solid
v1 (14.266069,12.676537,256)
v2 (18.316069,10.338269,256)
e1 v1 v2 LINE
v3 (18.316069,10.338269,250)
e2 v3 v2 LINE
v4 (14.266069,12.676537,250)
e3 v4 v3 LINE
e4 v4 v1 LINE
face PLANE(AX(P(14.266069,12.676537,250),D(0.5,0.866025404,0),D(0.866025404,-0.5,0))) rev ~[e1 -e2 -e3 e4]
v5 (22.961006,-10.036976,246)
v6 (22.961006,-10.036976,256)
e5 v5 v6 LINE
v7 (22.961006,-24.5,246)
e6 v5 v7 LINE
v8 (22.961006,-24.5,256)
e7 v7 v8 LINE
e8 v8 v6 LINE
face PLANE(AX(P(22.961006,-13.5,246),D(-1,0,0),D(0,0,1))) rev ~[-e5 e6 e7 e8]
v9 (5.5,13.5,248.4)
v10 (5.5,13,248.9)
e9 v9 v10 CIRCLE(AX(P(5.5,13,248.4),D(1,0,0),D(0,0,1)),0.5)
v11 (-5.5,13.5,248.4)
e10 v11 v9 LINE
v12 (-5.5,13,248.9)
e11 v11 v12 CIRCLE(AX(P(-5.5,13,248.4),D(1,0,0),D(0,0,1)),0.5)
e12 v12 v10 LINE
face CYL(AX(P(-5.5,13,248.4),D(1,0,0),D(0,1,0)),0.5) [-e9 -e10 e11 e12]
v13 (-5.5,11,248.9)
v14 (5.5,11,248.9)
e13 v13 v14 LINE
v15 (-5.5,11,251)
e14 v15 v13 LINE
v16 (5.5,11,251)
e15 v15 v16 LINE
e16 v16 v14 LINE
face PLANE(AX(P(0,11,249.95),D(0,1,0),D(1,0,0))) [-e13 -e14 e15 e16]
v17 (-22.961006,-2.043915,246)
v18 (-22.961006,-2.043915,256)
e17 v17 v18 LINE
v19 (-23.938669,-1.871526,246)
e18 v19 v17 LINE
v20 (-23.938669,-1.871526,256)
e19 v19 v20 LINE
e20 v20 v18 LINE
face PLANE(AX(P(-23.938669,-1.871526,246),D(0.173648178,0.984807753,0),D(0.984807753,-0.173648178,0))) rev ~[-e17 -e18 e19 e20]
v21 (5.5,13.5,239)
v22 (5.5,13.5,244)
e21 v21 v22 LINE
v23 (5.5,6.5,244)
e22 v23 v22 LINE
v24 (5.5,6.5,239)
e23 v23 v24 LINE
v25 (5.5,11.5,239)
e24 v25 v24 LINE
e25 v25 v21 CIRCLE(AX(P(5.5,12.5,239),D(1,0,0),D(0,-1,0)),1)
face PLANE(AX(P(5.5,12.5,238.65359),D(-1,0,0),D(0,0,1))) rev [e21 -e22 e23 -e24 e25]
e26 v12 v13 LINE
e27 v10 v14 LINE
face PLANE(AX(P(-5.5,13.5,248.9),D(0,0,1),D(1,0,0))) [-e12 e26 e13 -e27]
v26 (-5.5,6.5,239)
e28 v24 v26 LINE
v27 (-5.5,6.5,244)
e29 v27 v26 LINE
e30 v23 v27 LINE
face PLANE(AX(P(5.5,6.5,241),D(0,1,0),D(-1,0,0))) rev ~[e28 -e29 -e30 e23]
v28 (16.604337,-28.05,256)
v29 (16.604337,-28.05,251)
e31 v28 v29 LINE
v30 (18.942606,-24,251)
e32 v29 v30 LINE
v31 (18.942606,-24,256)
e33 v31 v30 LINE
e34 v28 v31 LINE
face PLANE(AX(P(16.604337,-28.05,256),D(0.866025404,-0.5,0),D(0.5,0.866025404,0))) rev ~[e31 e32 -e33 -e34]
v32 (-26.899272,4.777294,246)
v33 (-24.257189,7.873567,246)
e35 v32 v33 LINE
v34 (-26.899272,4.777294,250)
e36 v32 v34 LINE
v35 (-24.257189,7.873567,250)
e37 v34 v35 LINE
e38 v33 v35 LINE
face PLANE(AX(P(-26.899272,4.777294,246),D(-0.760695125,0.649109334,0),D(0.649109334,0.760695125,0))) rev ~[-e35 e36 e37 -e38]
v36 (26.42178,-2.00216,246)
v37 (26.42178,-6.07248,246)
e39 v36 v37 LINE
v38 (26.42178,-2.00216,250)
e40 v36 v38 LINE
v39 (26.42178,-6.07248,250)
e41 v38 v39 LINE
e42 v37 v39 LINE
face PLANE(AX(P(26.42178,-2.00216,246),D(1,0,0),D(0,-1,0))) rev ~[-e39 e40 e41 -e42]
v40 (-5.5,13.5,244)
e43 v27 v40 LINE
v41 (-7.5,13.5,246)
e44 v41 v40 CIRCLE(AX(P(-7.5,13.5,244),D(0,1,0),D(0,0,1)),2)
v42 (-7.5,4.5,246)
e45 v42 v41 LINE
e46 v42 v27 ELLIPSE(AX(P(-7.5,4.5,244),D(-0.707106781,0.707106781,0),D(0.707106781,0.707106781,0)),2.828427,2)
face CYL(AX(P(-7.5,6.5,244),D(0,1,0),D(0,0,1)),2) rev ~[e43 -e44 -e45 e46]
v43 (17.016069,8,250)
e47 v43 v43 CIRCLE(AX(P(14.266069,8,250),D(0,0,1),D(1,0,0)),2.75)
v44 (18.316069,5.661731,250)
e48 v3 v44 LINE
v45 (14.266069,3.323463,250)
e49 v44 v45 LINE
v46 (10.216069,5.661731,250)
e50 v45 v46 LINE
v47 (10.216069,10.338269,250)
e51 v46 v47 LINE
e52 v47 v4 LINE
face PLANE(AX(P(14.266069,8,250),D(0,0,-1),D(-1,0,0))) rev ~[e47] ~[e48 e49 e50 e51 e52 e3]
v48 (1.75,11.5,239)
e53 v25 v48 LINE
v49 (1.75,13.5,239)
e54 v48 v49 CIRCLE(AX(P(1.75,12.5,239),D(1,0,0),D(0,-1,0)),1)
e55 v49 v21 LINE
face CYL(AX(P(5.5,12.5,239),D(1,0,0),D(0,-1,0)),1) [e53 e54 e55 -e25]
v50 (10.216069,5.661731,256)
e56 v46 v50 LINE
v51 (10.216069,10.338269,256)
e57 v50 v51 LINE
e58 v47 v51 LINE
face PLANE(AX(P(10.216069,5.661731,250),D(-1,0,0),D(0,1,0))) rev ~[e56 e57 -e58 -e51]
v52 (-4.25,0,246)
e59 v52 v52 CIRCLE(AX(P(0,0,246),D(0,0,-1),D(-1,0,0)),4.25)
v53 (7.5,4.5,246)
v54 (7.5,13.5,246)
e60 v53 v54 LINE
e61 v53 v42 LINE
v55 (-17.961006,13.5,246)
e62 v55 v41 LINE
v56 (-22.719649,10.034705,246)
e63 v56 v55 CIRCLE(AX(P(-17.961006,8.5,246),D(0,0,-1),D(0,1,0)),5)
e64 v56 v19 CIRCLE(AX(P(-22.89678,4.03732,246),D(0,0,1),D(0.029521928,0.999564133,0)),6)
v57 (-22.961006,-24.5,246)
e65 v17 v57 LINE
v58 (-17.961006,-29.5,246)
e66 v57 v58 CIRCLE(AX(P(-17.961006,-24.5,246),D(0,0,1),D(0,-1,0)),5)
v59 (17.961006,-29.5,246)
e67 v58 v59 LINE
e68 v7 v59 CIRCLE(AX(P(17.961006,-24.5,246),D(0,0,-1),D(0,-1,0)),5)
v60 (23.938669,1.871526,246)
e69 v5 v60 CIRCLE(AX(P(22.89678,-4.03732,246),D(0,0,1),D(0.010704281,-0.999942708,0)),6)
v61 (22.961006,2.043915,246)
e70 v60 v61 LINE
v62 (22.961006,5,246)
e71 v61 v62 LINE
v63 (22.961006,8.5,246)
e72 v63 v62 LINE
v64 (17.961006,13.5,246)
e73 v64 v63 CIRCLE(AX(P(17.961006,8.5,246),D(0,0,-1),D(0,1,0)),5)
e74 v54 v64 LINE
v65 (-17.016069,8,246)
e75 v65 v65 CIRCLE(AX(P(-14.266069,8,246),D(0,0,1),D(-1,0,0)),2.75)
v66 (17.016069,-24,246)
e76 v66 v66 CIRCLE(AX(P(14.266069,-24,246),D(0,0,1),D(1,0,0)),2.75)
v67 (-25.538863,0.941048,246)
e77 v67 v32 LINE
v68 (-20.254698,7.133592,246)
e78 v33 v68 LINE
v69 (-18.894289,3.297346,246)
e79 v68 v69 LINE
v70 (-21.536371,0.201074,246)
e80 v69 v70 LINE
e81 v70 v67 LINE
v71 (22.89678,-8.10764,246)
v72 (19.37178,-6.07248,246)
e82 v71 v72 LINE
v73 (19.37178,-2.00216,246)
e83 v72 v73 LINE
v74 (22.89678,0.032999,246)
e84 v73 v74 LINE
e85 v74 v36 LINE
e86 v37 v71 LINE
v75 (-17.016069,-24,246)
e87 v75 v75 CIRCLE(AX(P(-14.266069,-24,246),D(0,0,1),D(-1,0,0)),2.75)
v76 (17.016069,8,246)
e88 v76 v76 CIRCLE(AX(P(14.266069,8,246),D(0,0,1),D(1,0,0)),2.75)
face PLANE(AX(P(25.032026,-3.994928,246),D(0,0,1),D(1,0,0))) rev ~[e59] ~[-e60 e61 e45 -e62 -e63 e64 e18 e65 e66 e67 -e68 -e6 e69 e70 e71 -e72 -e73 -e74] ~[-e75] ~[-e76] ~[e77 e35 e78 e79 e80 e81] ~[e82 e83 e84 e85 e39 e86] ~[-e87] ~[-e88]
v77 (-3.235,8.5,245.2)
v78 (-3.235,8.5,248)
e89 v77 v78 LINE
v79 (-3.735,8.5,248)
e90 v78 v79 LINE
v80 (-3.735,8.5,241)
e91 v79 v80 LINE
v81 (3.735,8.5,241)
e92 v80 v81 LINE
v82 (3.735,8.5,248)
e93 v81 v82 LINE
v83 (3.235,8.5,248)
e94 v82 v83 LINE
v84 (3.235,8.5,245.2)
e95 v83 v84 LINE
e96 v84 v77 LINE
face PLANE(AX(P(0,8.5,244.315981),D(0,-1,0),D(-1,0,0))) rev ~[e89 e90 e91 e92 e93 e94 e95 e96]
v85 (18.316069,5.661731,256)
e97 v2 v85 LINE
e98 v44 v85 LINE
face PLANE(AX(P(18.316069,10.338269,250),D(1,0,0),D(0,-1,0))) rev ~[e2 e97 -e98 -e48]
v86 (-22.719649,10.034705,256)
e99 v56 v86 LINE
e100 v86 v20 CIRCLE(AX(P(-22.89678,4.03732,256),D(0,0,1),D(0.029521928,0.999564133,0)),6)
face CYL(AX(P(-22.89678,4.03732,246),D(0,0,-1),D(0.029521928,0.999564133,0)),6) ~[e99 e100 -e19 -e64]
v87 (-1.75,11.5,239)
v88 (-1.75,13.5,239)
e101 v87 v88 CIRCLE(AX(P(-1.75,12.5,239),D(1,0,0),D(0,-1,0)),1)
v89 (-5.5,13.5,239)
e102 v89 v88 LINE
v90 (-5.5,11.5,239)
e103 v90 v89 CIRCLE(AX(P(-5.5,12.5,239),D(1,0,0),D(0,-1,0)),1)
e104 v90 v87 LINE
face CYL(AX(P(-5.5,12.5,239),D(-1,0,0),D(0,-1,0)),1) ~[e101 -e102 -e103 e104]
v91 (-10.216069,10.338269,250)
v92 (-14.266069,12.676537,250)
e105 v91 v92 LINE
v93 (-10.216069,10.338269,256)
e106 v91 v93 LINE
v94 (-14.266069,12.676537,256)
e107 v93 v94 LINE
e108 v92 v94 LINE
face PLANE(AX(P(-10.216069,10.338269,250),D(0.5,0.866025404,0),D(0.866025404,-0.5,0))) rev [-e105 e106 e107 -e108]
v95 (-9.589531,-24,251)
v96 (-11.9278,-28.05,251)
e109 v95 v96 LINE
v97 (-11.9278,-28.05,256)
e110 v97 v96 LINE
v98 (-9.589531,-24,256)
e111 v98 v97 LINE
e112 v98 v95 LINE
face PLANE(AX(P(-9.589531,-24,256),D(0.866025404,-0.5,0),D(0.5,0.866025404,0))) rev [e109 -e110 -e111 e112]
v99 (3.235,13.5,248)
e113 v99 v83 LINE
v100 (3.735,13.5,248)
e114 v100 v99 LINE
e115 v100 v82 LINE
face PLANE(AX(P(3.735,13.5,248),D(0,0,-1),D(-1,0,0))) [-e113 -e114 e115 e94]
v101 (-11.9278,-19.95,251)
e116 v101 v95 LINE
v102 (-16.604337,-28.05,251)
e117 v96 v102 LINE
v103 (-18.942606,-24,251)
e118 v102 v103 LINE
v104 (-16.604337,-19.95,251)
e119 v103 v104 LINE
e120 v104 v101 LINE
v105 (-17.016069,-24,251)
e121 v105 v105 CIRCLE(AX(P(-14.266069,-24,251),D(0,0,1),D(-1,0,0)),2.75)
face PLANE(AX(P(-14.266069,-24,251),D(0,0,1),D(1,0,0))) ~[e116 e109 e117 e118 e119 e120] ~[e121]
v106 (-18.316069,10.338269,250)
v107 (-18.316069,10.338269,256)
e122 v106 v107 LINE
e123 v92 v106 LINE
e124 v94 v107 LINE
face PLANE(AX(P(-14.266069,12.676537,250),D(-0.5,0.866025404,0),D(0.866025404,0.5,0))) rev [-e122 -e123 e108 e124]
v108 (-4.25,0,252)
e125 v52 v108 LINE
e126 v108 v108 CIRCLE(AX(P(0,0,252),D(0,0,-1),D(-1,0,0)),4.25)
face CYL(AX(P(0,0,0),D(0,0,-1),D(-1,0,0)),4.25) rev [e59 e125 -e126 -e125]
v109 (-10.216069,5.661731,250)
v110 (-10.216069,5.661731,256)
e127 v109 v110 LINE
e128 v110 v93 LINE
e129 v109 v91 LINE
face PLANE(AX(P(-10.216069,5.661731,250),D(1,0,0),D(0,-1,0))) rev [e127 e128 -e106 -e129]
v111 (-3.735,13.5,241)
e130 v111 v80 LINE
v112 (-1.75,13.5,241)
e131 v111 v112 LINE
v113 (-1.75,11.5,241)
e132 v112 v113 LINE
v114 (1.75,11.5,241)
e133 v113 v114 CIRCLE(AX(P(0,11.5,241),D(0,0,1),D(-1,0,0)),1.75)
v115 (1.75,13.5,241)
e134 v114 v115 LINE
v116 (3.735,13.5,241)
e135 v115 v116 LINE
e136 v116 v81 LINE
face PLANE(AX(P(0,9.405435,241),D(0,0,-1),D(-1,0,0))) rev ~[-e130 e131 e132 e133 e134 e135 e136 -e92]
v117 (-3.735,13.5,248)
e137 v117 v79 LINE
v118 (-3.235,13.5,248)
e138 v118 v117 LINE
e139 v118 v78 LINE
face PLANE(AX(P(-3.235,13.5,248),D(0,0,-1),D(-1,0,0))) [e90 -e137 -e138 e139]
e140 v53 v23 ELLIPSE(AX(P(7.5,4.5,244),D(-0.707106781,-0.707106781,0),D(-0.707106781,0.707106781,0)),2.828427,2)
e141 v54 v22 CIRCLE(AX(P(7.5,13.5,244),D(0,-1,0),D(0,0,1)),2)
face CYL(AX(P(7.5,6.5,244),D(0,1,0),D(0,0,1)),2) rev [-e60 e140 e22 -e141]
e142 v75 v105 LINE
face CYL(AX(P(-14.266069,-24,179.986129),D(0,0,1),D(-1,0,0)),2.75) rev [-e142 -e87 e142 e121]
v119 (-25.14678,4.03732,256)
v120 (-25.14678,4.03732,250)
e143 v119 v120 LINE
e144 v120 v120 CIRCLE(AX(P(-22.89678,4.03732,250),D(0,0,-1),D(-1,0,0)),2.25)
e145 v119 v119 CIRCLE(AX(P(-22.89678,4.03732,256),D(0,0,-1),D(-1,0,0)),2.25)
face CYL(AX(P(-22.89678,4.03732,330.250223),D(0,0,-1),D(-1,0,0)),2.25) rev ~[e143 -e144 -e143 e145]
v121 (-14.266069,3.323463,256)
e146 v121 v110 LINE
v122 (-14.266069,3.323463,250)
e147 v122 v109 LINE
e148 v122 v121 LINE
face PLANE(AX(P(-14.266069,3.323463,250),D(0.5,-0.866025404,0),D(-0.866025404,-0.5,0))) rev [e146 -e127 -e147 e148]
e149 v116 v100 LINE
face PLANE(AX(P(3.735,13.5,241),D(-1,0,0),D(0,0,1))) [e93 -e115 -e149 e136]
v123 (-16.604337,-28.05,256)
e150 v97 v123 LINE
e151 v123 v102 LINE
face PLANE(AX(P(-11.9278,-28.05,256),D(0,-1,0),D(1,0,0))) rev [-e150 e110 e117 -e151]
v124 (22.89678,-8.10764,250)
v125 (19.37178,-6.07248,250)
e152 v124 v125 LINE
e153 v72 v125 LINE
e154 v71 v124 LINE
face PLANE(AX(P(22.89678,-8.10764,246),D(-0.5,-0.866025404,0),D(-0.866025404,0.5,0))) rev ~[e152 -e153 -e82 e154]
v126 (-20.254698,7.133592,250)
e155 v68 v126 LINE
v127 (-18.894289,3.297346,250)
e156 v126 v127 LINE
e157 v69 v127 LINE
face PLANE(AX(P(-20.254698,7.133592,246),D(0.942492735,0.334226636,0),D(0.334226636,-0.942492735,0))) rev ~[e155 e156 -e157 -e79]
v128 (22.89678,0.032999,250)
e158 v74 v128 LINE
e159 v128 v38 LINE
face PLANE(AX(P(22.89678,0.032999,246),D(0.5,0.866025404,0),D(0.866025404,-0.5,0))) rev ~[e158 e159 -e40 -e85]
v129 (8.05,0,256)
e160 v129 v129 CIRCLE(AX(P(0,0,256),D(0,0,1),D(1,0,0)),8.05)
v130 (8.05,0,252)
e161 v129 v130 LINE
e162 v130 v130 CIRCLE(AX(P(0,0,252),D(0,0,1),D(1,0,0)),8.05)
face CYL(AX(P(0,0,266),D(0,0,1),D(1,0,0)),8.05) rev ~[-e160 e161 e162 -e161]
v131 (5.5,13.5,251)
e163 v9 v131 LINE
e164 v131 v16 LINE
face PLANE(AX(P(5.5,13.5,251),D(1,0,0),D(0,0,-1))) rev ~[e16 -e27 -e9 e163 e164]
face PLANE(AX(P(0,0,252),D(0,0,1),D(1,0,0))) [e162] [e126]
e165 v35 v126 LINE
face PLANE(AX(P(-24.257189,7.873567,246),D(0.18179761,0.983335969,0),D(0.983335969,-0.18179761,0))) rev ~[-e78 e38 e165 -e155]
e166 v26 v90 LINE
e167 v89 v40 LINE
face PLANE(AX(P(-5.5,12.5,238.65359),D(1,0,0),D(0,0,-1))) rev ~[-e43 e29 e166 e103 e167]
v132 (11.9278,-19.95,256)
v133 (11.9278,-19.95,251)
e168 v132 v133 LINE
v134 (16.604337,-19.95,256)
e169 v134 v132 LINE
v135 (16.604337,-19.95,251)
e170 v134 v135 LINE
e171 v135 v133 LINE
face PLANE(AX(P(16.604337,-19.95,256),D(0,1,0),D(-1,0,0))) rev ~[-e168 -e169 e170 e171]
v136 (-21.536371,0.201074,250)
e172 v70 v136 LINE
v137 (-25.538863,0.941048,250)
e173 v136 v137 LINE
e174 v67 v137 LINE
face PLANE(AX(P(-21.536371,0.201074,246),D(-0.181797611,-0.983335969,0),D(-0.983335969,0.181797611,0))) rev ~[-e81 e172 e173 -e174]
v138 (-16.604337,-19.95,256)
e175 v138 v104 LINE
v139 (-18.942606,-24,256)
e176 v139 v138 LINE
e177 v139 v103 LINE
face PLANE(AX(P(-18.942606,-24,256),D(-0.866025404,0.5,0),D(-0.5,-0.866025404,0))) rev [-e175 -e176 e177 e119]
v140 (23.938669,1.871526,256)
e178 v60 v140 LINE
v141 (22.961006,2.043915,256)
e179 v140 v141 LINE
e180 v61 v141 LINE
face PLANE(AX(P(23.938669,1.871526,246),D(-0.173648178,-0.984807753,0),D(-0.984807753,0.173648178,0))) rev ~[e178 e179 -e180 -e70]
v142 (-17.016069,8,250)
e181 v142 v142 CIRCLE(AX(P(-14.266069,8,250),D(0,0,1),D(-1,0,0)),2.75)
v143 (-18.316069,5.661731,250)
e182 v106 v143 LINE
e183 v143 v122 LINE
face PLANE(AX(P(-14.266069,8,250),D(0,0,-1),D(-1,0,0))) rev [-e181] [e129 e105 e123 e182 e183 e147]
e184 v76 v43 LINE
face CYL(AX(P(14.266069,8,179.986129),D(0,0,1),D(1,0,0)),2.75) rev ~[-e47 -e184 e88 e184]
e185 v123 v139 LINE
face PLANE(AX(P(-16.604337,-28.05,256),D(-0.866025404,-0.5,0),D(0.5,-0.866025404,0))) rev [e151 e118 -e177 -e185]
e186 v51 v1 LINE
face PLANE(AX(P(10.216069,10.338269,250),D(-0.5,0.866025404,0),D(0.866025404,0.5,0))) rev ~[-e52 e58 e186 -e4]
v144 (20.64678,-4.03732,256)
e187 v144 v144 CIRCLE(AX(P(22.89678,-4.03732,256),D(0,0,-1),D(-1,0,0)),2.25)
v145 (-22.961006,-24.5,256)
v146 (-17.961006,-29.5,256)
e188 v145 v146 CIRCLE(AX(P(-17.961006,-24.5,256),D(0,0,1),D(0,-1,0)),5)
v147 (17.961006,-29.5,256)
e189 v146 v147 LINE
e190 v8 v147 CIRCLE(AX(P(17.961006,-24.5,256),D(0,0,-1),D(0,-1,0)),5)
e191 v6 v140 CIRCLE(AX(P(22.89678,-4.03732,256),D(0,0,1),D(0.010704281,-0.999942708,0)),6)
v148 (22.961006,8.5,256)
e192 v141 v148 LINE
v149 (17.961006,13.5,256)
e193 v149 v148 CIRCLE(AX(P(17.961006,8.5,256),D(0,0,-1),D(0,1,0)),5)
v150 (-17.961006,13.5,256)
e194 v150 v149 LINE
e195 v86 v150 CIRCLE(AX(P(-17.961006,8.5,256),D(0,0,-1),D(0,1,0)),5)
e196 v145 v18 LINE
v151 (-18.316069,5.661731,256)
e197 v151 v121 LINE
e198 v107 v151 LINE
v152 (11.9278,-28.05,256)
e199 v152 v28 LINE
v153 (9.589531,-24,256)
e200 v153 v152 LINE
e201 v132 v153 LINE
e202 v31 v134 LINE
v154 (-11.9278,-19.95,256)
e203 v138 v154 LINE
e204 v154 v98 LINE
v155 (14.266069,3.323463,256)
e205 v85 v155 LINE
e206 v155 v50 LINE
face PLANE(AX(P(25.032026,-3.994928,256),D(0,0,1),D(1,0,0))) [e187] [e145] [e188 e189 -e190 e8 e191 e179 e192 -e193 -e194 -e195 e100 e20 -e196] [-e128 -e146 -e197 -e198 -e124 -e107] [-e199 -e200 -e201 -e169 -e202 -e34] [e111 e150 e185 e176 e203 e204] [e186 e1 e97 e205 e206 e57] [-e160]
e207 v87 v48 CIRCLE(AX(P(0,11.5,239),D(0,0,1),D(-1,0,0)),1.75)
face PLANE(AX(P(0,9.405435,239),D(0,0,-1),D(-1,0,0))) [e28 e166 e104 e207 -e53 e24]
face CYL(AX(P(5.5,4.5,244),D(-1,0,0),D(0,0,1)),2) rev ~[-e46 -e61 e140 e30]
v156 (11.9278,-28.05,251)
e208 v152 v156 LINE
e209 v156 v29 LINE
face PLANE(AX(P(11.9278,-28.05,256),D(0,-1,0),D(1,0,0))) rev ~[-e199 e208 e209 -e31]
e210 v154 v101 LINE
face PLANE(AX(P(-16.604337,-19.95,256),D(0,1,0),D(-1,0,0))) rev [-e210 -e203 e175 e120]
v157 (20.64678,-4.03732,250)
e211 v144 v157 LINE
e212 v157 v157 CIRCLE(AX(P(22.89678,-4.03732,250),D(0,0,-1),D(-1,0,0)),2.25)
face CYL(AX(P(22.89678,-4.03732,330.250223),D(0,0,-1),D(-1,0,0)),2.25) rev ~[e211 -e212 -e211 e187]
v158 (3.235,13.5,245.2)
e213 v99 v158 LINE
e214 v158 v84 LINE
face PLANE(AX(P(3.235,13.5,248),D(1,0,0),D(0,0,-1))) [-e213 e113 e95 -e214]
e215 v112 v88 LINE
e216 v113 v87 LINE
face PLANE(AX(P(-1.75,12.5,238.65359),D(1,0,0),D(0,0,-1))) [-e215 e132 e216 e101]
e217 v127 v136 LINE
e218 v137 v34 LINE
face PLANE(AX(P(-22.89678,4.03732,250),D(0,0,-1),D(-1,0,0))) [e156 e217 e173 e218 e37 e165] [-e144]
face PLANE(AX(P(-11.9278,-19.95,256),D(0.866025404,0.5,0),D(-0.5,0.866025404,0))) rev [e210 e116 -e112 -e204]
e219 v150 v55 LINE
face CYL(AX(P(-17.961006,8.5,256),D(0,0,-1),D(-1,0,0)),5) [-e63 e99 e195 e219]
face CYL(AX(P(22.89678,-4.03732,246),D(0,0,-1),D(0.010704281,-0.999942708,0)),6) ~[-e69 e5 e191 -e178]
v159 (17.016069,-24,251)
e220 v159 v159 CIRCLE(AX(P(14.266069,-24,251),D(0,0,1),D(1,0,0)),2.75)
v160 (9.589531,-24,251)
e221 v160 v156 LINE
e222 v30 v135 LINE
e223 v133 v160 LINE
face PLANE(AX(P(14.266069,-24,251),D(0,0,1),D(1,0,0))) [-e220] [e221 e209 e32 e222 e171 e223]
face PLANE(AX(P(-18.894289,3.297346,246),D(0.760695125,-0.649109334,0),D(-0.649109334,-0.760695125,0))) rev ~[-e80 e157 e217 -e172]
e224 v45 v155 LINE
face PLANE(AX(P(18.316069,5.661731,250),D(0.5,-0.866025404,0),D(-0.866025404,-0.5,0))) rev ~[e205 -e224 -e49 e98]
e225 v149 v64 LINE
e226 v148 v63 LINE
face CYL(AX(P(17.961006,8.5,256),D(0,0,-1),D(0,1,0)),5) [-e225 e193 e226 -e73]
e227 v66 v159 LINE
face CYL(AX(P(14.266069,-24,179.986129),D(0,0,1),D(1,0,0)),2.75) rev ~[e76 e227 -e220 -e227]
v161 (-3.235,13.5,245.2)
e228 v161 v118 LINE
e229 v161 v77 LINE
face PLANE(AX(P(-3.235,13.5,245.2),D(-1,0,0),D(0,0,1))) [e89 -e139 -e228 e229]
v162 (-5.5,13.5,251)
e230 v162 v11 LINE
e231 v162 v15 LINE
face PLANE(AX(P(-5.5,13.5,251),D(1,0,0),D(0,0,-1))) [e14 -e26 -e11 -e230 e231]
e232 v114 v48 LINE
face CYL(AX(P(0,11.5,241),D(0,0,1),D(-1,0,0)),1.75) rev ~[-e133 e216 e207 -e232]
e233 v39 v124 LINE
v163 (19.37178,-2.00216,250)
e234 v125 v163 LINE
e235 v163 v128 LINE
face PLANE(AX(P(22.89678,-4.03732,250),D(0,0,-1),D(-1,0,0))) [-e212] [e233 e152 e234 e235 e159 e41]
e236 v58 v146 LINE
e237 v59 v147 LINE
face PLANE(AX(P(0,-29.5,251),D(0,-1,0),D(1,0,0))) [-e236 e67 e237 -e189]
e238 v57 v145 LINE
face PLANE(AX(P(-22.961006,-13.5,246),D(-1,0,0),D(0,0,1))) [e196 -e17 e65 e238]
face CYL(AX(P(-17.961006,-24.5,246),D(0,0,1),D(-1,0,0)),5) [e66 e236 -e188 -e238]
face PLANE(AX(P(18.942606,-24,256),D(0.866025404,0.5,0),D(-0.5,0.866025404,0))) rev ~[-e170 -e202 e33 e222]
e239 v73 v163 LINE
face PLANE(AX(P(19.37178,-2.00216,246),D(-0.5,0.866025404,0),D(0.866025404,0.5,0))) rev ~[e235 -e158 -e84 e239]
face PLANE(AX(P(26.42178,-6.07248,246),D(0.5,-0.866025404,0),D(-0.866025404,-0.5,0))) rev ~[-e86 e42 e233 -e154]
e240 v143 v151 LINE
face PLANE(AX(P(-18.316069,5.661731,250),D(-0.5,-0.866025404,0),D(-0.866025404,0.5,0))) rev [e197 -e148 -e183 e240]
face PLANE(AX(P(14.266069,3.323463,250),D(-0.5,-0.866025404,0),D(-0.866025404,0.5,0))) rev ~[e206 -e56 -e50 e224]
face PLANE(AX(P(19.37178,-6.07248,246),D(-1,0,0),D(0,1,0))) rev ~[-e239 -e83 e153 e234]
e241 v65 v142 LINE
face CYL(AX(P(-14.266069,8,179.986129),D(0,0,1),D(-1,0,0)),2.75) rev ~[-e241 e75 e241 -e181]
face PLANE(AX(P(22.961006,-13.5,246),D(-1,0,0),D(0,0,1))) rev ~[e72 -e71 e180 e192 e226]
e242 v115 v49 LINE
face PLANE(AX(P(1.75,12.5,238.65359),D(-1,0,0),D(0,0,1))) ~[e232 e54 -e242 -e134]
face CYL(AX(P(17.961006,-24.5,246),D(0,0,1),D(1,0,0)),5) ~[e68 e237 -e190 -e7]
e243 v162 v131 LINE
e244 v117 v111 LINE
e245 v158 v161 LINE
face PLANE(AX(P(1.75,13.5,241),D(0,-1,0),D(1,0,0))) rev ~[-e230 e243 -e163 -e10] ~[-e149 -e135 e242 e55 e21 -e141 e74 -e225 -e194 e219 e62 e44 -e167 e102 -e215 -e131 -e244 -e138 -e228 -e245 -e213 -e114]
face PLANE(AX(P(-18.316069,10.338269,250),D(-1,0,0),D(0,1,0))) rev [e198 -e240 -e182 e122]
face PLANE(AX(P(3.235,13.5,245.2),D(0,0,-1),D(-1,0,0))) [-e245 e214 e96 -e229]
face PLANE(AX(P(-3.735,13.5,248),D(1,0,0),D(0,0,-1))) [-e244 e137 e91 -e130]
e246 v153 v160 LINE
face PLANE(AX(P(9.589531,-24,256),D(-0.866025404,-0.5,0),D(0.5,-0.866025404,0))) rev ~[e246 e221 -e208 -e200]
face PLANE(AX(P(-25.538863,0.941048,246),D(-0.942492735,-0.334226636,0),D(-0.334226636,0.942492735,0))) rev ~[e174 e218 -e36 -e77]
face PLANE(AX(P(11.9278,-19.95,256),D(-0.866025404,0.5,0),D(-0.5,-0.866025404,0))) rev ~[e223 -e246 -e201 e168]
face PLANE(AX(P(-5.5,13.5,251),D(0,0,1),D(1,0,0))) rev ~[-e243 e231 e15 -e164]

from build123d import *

# Parameters (mm, degrees)
BOSS_EXTRUDE1_DEPTH      = 13.5
BOSS_EXTRUDE2_DEPTH      = 18.5
BOSS_EXTRUDE3_DEPTH      = 5
SKETCH4_W                = 45.922011884
SKETCH4_H                = 20
BOSS_EXTRUDE4_DEPTH      = 13.5
SKETCH2_R                = 4.25
CUT_EXTRUDE1_DEPTH       = 268.629329099
SKETCH6_R                = 8.05
CUT_EXTRUDE3_DEPTH       = 14
BOSS_EXTRUDE5_DEPTH      = 13.5
CUT_EXTRUDE5_REACH       = 210.1
CUT_EXTRUDE5_END_RADIUS  = 45
SKETCH8_R                = 9
CUT_EXTRUDE6_REACH       = 210.1
SKETCH10_R               = 4
SKETCH11_R               = 8
CUT_EXTRUDE7_DEPTH       = 4
SKETCH18_R               = 11
CUT_EXTRUDE9_DEPTH       = 47
CUT_EXTRUDE11_DEPTH      = 268.629329099
CUT_EXTRUDE11_DEPTH_BACK = 268.629329099
SKETCH20_W               = 45.922011884
SKETCH20_H               = 204.425421037
SKETCH21_W               = 45.922011884
SKETCH21_H               = 10
BOSS_EXTRUDE6_DEPTH      = 16
M5_CLEARANCE_HOLE1_D     = 5.5
CUT_EXTRUDE12_DEPTH      = 5
LPATTERN2_COUNT          = 2
LPATTERN2_PITCH          = 32
LPATTERN2_COPY_1_D       = 5.5
CUT_EXTRUDE13_START      = -4
SKETCH25_R               = 2.75
CUT_EXTRUDE13_DEPTH      = 39.396436099
SKETCH26_W               = 45.922011884
SKETCH26_H               = 10
CUT_EXTRUDE14_DEPTH      = 271.429672547
FILLET1_R                = 5
SKETCH30_W               = 11
SKETCH30_H               = 7
BOSS_EXTRUDE8_DEPTH      = 5
CUT_EXTRUDE15_DEPTH      = 5
FILLET3_R                = 2
BOSS_EXTRUDE9_DEPTH      = 2
BOSS_EXTRUDE10_DEPTH     = 3.75
SKETCH36_W               = 11
SKETCH36_H               = 2.1
CUT_EXTRUDE17_DEPTH      = 2.5
FILLET4_R                = 0.5
BOSS_EXTRUDE11_START     = -10
BOSS_EXTRUDE11_DEPTH     = 10
CUT_EXTRUDE18_DEPTH      = 4
M4_CLEARANCE_HOLE1_D     = 4.5


with BuildPart() as part:
    # Sketch1 → Boss-Extrude1 (new, symmetric)
    with BuildSketch(Plane(origin=(0, 0, 0), x_dir=(1, 0, 0), z_dir=(0, 1, 0))):
        with BuildLine():
            ThreePointArc((17.220754456, -41.574578963), (0, -45), (-17.220754456, -41.574578963))
            Line((-17.220754456, -41.574578963), (-22.961005942, -55.432771951))
            ThreePointArc((-22.961005942, -55.432771951), (0, -60), (22.961005942, -55.432771951))
            Line((22.961005942, -55.432771951), (17.220754456, -41.574578963))
        make_face()
    extrude(amount=BOSS_EXTRUDE1_DEPTH, both=True)

    # Sketch1<3> → Boss-Extrude2 (add, symmetric)
    with BuildSketch(Plane(origin=(0, 0, 0), x_dir=(1, 0, 0), z_dir=(0, 1, 0))):
        with BuildLine():
            ThreePointArc((19.134171618, -46.193976626), (0, -50), (-19.134171618, -46.193976626))
            Line((-19.134171618, -46.193976626), (-21.04758878, -50.813374288))
            ThreePointArc((-21.04758878, -50.813374288), (0, -55), (21.04758878, -50.813374288))
            Line((21.04758878, -50.813374288), (19.134171618, -46.193976626))
        make_face()
    extrude(amount=BOSS_EXTRUDE2_DEPTH, both=True)

    # Sketch3 → Boss-Extrude3 (add, symmetric)
    with BuildSketch(Plane.XZ):
        with BuildLine():
            Line((-22.961005942, 266), (-22.961005942, 55.432771951))
            ThreePointArc((-22.961005942, 55.432771951), (-20.481139434, 56.39612511), (-17.961005942, 57.248600555))
            Line((-17.961005942, 57.248600555), (-17.961005942, 246))
            Line((-17.961005942, 246), (17.961005942, 246))
            Line((17.961005942, 246), (17.961005942, 57.248600555))
            ThreePointArc((17.961005942, 57.248600555), (20.481139434, 56.39612511), (22.961005942, 55.432771951))
            Line((22.961005942, 55.432771951), (22.961005942, 266))
            Line((22.961005942, 266), (-22.961005942, 266))
        make_face()
    extrude(amount=BOSS_EXTRUDE3_DEPTH, both=True)

    # Sketch4 → Boss-Extrude4 (add, symmetric)
    with BuildSketch(Plane(origin=(0, 0, 0), x_dir=(1, 0, 0), z_dir=(0, 1, 0))):
        with Locations((0, -256)):
            Rectangle(SKETCH4_W, SKETCH4_H)
    extrude(amount=BOSS_EXTRUDE4_DEPTH, both=True)

    # Sketch2 → Cut-Extrude1 (cut, through all)
    with BuildSketch(Plane.XY):
        with Locations(Location((0, 0, 0), (0, 0, 180))):
            Circle(SKETCH2_R)
    extrude(amount=CUT_EXTRUDE1_DEPTH, mode=Mode.SUBTRACT)

    # Sketch6 → Cut-Extrude3 (cut)
    with BuildSketch(Plane.XY.offset(266)):
        Circle(SKETCH6_R)
    extrude(amount=-CUT_EXTRUDE3_DEPTH, mode=Mode.SUBTRACT)

    # Sketch9 → Boss-Extrude5 (add, symmetric)
    with BuildSketch(Plane(origin=(0, 0, 0), x_dir=(1, 0, 0), z_dir=(0, 1, 0))):
        with BuildLine():
            Line((-22.961005942, -55.432771951), (-22.961005942, -68))
            Line((-22.961005942, -68), (22.961005942, -68))
            Line((22.961005942, -68), (22.961005942, -55.432771951))
            ThreePointArc((22.961005942, -55.432771951), (0, -60), (-22.961005942, -55.432771951))
        make_face()
    extrude(amount=BOSS_EXTRUDE5_DEPTH, both=True)

    # Cut-Extrude5: up to this cylinder (the profile starts outside it)
    cut_extrude5_end = Plane(origin=(0, 0, 0), z_dir=(0, -1, 0)) * Cylinder(CUT_EXTRUDE5_END_RADIUS, 511.2, mode=Mode.PRIVATE)
    # Sketch8 → Cut-Extrude5 (cut, up to the surface)
    with BuildSketch(Plane.XY.offset(60), mode=Mode.PRIVATE) as cut_extrude5_sk1:
        Circle(SKETCH8_R)
    cut_extrude5_tool1 = extrude(cut_extrude5_sk1.sketch, amount=-CUT_EXTRUDE5_REACH, mode=Mode.PRIVATE) - cut_extrude5_end
    add(cut_extrude5_tool1.solids().sort_by_distance((0, 0, 60))[0], mode=Mode.SUBTRACT)

    # Sketch10 → Cut-Extrude6 (cut, up to next)
    with BuildSketch(Plane.XY.offset(60), mode=Mode.PRIVATE) as cut_extrude6_sk1:
        with Locations(Location((0, 0, 0), (0, 0, 180))):
            Circle(SKETCH10_R)
    cut_extrude6_tool1 = extrude(cut_extrude6_sk1.sketch, amount=CUT_EXTRUDE6_REACH, mode=Mode.PRIVATE) & part.part
    add(cut_extrude6_tool1.solids().sort_by_distance((0, 0, 60))[0], mode=Mode.SUBTRACT)

    # Sketch11 → Cut-Extrude7 (cut)
    with BuildSketch(Plane.XY.offset(68)):
        Circle(SKETCH11_R)
    extrude(amount=-CUT_EXTRUDE7_DEPTH, mode=Mode.SUBTRACT)

    # Sketch18 → Cut-Extrude9 (cut)
    with BuildSketch(Plane.XY):
        with Locations(Location((0, 0, 0), (0, 0, 180))):
            Circle(SKETCH18_R)
    extrude(amount=CUT_EXTRUDE9_DEPTH, mode=Mode.SUBTRACT)

    # Sketch20 → Cut-Extrude11 (cut, two sides: drawn at the far end of the back side and taken through both)
    with BuildSketch(Plane(origin=(0, 0, 0), x_dir=(1, 0, 0), z_dir=(0, 1, 0)).offset(-CUT_EXTRUDE11_DEPTH_BACK)):
        with Locations((0, -143.787289482)):
            Rectangle(SKETCH20_W, SKETCH20_H)
    extrude(amount=CUT_EXTRUDE11_DEPTH + CUT_EXTRUDE11_DEPTH_BACK, mode=Mode.SUBTRACT)

    # Sketch21 → Boss-Extrude6 (add)
    with BuildSketch(Plane.XZ.offset(13.5)):
        with Locations((0, 251)):
            Rectangle(SKETCH21_W, SKETCH21_H)
    extrude(amount=BOSS_EXTRUDE6_DEPTH)

    # M5 Clearance Hole1 (through all)
    with Locations(Plane(origin=(0, 0, 246), x_dir=(-1, 0, 0), z_dir=(0, 0, -1))):
        with Locations((-14.26606865, -24)):
            m5_clearance_hole1 = Hole(M5_CLEARANCE_HOLE1_D / 2)

    # Sketch24 → Cut-Extrude12 (cut)
    with BuildSketch(Plane.XY.offset(256)):
        Polygon((18.94260583, -24), (16.60433724, -19.95), (11.92780006, -19.95), (9.58953147, -24), (11.92780006, -28.05), (16.60433724, -28.05), align=None)
    cut_extrude12 = extrude(amount=-CUT_EXTRUDE12_DEPTH, mode=Mode.SUBTRACT)

    # Mirror1: M5 Clearance Hole1 across plane
    add(m5_clearance_hole1.mirror(Plane(origin=(0, 0, 0), x_dir=(0, 0, 1), z_dir=(1, 0, 0))), mode=Mode.SUBTRACT)

    # Mirror2: Cut-Extrude12 across plane
    add(cut_extrude12.mirror(Plane(origin=(0, 0, 0), x_dir=(0, 0, 1), z_dir=(1, 0, 0))), mode=Mode.SUBTRACT)

    # LPattern2: M5 Clearance Hole1 ×2
    with Locations(*[(0, i * LPATTERN2_PITCH, 0) for i in range(1, LPATTERN2_COUNT)]):
        add(m5_clearance_hole1, mode=Mode.SUBTRACT)

    # LPattern2 copy 1 (through all)
    with Locations(Plane(origin=(0, 32, 246), x_dir=(1, 0, 0), z_dir=(0, 0, -1))):
        with Locations((-14.26606865, 24)):
            Hole(LPATTERN2_COPY_1_D / 2)

    # Sketch25 → Cut-Extrude13 (cut, through all)
    # profile 1 of 2: a face of its own
    with BuildSketch(Plane(origin=(0, 0, 246), x_dir=(-1, 0, 0), z_dir=(0, 0, -1)).offset(CUT_EXTRUDE13_START)):
        Polygon((-10.21606865, 10.33826859), (-14.26606865, 12.67653718), (-18.31606865, 10.33826859), (-18.31606865, 5.66173141), (-14.26606865, 3.32346282), (-10.21606865, 5.66173141), align=None)
        with Locations((-14.26606865, 8)):
            Circle(SKETCH25_R, mode=Mode.SUBTRACT)
    # profile 2 of 2: a face of its own
    with BuildSketch(Plane(origin=(0, 0, 246), x_dir=(-1, 0, 0), z_dir=(0, 0, -1)).offset(CUT_EXTRUDE13_START)):
        with Locations((-14.26606865, 8)):
            Circle(SKETCH25_R)
    cut_extrude13 = extrude(amount=-CUT_EXTRUDE13_DEPTH, mode=Mode.SUBTRACT)

    # Mirror3: Cut-Extrude13 across plane
    add(cut_extrude13.mirror(Plane(origin=(0, 0, 0), x_dir=(0, 0, 1), z_dir=(1, 0, 0))), mode=Mode.SUBTRACT)

    # Sketch26 → Cut-Extrude14 (cut, through all)
    with BuildSketch(Plane(origin=(0, 13.5, 0), x_dir=(1, 0, 0), z_dir=(0, 1, 0))):
        with Locations((0, -261)):
            Rectangle(SKETCH26_W, SKETCH26_H)
    extrude(amount=-CUT_EXTRUDE14_DEPTH, mode=Mode.SUBTRACT)

    # Fillet1
    fillet1_edges = [part.edges().sort_by_distance(p)[0] for p in [
        (-22.961005942, -29.5, 251),
        (22.961005942, -29.5, 251),
        (22.961005942, 13.5, 251),
        (-22.961005942, 13.5, 251),
    ]]
    fillet(fillet1_edges, radius=FILLET1_R)

    # Sketch30 → Boss-Extrude8 (add)
    with BuildSketch(Plane(origin=(0, 0, 246), x_dir=(-1, 0, 0), z_dir=(0, 0, -1))):
        with Locations((0, 10)):
            Rectangle(SKETCH30_W, SKETCH30_H)
    extrude(amount=BOSS_EXTRUDE8_DEPTH)

    # Sketch31 → Cut-Extrude15 (cut)
    with BuildSketch(Plane(origin=(0, 13.5, 0), x_dir=(1, 0, 0), z_dir=(0, 1, 0))):
        Polygon((3.735, -241), (3.735, -248), (3.235, -248), (3.235, -245.2), (-3.235, -245.2), (-3.235, -248), (-3.735, -248), (-3.735, -241), align=None)
    extrude(amount=-CUT_EXTRUDE15_DEPTH, mode=Mode.SUBTRACT)

    # Fillet3
    fillet3_edges = [part.edges().sort_by_distance(p)[0] for p in [
        (-5.5, 10, 246),
        (5.5, 10, 246),
        (0, 6.5, 246),
    ]]
    fillet(fillet3_edges, radius=FILLET3_R)

    # Sketch32 → Boss-Extrude9 (add)
    with BuildSketch(Plane(origin=(0, 0, 241), x_dir=(-1, 0, 0), z_dir=(0, 0, -1))):
        Polygon((3.735, 13.5), (3.735, 8.5), (-3.735, 8.5), (-3.735, 13.5), (-5.5, 13.5), (-5.5, 6.5), (5.5, 6.5), (5.5, 13.5), align=None)
        with BuildLine():
            ThreePointArc((1.75, 11.5), (0, 9.75), (-1.75, 11.5))
            Line((-1.75, 11.5), (-1.75, 13.5))
            Line((-1.75, 13.5), (-3.735, 13.5))
            Line((-3.735, 13.5), (-3.735, 8.5))
            Line((-3.735, 8.5), (3.735, 8.5))
            Line((3.735, 8.5), (3.735, 13.5))
            Line((3.735, 13.5), (1.75, 13.5))
            Line((1.75, 13.5), (1.75, 11.5))
        make_face()
    extrude(amount=BOSS_EXTRUDE9_DEPTH)

    # Sketch34 → Boss-Extrude10 (add)
    with BuildSketch(Plane.ZY.offset(5.5)):
        with BuildLine():
            Line((239, 13.5), (239, 11.5))
            ThreePointArc((239, 11.5), (238, 12.5), (239, 13.5))
        make_face()
    boss_extrude10 = extrude(amount=-BOSS_EXTRUDE10_DEPTH)

    # Mirror5: Boss-Extrude10 across plane
    add(boss_extrude10.mirror(Plane(origin=(0, 0, 0), x_dir=(0, 0, 1), z_dir=(1, 0, 0))))

    # Sketch36 → Cut-Extrude17 (cut)
    with BuildSketch(Plane(origin=(0, 13.5, 0), x_dir=(1, 0, 0), z_dir=(0, 1, 0))):
        with Locations((0, -249.95)):
            Rectangle(SKETCH36_W, SKETCH36_H)
    extrude(amount=-CUT_EXTRUDE17_DEPTH, mode=Mode.SUBTRACT)

    # Fillet4
    fillet4_edges = [part.edges().sort_by_distance(p)[0] for p in [
        (0, 13.5, 248.9),
    ]]
    fillet(fillet4_edges, radius=FILLET4_R)

    # Sketch38 → Boss-Extrude11 (add)
    with BuildSketch(Plane.XY.offset(256).offset(BOSS_EXTRUDE11_START)):
        with BuildLine():
            Line((23.938669324, 1.871526387), (22.961005942, 2.04391482))
            Line((22.961005942, 2.04391482), (22.961005942, -10.036976376))
            ThreePointArc((22.961005942, -10.036976376), (28.876661693, -4.528255996), (23.938669324, 1.871526387))
        make_face()
        with BuildLine():
            ThreePointArc((-22.961005942, 8.5), (-22.900298084, 9.276783841), (-22.719648688, 10.034704928))
            ThreePointArc((-22.719648688, 10.034704928), (-28.86557724, 4.648435983), (-23.938669324, -1.871526387))
            Line((-23.938669324, -1.871526387), (-22.961005942, -2.04391482))
            Line((-22.961005942, -2.04391482), (-22.961005942, 8.5))
        make_face()
    extrude(amount=BOSS_EXTRUDE11_DEPTH)

    # Sketch39 → Cut-Extrude18 (cut)
    with BuildSketch(Plane(origin=(0, 0, 246), x_dir=(-1, 0, 0), z_dir=(0, 0, -1))):
        Polygon((-22.896780258, -8.107639529), (-19.371780258, -6.07247983), (-19.371780258, -2.002160432), (-22.896780258, 0.032999267), (-26.421780258, -2.002160432), (-26.421780258, -6.07247983), align=None)
        Polygon((18.894288787, 3.29734579), (21.536371099, 0.201073668), (25.53886257, 0.941048009), (26.899271729, 4.777294471), (24.257189416, 7.873566593), (20.254697945, 7.133592253), align=None)
    extrude(amount=-CUT_EXTRUDE18_DEPTH, mode=Mode.SUBTRACT)

    # M4 Clearance Hole1 (through all)
    with Locations(Plane.XY.offset(256)):
        with Locations((-22.896780258, 4.037320131), (22.896780258, -4.037320131)):
            Hole(M4_CLEARANCE_HOLE1_D / 2)


solid = part.part
